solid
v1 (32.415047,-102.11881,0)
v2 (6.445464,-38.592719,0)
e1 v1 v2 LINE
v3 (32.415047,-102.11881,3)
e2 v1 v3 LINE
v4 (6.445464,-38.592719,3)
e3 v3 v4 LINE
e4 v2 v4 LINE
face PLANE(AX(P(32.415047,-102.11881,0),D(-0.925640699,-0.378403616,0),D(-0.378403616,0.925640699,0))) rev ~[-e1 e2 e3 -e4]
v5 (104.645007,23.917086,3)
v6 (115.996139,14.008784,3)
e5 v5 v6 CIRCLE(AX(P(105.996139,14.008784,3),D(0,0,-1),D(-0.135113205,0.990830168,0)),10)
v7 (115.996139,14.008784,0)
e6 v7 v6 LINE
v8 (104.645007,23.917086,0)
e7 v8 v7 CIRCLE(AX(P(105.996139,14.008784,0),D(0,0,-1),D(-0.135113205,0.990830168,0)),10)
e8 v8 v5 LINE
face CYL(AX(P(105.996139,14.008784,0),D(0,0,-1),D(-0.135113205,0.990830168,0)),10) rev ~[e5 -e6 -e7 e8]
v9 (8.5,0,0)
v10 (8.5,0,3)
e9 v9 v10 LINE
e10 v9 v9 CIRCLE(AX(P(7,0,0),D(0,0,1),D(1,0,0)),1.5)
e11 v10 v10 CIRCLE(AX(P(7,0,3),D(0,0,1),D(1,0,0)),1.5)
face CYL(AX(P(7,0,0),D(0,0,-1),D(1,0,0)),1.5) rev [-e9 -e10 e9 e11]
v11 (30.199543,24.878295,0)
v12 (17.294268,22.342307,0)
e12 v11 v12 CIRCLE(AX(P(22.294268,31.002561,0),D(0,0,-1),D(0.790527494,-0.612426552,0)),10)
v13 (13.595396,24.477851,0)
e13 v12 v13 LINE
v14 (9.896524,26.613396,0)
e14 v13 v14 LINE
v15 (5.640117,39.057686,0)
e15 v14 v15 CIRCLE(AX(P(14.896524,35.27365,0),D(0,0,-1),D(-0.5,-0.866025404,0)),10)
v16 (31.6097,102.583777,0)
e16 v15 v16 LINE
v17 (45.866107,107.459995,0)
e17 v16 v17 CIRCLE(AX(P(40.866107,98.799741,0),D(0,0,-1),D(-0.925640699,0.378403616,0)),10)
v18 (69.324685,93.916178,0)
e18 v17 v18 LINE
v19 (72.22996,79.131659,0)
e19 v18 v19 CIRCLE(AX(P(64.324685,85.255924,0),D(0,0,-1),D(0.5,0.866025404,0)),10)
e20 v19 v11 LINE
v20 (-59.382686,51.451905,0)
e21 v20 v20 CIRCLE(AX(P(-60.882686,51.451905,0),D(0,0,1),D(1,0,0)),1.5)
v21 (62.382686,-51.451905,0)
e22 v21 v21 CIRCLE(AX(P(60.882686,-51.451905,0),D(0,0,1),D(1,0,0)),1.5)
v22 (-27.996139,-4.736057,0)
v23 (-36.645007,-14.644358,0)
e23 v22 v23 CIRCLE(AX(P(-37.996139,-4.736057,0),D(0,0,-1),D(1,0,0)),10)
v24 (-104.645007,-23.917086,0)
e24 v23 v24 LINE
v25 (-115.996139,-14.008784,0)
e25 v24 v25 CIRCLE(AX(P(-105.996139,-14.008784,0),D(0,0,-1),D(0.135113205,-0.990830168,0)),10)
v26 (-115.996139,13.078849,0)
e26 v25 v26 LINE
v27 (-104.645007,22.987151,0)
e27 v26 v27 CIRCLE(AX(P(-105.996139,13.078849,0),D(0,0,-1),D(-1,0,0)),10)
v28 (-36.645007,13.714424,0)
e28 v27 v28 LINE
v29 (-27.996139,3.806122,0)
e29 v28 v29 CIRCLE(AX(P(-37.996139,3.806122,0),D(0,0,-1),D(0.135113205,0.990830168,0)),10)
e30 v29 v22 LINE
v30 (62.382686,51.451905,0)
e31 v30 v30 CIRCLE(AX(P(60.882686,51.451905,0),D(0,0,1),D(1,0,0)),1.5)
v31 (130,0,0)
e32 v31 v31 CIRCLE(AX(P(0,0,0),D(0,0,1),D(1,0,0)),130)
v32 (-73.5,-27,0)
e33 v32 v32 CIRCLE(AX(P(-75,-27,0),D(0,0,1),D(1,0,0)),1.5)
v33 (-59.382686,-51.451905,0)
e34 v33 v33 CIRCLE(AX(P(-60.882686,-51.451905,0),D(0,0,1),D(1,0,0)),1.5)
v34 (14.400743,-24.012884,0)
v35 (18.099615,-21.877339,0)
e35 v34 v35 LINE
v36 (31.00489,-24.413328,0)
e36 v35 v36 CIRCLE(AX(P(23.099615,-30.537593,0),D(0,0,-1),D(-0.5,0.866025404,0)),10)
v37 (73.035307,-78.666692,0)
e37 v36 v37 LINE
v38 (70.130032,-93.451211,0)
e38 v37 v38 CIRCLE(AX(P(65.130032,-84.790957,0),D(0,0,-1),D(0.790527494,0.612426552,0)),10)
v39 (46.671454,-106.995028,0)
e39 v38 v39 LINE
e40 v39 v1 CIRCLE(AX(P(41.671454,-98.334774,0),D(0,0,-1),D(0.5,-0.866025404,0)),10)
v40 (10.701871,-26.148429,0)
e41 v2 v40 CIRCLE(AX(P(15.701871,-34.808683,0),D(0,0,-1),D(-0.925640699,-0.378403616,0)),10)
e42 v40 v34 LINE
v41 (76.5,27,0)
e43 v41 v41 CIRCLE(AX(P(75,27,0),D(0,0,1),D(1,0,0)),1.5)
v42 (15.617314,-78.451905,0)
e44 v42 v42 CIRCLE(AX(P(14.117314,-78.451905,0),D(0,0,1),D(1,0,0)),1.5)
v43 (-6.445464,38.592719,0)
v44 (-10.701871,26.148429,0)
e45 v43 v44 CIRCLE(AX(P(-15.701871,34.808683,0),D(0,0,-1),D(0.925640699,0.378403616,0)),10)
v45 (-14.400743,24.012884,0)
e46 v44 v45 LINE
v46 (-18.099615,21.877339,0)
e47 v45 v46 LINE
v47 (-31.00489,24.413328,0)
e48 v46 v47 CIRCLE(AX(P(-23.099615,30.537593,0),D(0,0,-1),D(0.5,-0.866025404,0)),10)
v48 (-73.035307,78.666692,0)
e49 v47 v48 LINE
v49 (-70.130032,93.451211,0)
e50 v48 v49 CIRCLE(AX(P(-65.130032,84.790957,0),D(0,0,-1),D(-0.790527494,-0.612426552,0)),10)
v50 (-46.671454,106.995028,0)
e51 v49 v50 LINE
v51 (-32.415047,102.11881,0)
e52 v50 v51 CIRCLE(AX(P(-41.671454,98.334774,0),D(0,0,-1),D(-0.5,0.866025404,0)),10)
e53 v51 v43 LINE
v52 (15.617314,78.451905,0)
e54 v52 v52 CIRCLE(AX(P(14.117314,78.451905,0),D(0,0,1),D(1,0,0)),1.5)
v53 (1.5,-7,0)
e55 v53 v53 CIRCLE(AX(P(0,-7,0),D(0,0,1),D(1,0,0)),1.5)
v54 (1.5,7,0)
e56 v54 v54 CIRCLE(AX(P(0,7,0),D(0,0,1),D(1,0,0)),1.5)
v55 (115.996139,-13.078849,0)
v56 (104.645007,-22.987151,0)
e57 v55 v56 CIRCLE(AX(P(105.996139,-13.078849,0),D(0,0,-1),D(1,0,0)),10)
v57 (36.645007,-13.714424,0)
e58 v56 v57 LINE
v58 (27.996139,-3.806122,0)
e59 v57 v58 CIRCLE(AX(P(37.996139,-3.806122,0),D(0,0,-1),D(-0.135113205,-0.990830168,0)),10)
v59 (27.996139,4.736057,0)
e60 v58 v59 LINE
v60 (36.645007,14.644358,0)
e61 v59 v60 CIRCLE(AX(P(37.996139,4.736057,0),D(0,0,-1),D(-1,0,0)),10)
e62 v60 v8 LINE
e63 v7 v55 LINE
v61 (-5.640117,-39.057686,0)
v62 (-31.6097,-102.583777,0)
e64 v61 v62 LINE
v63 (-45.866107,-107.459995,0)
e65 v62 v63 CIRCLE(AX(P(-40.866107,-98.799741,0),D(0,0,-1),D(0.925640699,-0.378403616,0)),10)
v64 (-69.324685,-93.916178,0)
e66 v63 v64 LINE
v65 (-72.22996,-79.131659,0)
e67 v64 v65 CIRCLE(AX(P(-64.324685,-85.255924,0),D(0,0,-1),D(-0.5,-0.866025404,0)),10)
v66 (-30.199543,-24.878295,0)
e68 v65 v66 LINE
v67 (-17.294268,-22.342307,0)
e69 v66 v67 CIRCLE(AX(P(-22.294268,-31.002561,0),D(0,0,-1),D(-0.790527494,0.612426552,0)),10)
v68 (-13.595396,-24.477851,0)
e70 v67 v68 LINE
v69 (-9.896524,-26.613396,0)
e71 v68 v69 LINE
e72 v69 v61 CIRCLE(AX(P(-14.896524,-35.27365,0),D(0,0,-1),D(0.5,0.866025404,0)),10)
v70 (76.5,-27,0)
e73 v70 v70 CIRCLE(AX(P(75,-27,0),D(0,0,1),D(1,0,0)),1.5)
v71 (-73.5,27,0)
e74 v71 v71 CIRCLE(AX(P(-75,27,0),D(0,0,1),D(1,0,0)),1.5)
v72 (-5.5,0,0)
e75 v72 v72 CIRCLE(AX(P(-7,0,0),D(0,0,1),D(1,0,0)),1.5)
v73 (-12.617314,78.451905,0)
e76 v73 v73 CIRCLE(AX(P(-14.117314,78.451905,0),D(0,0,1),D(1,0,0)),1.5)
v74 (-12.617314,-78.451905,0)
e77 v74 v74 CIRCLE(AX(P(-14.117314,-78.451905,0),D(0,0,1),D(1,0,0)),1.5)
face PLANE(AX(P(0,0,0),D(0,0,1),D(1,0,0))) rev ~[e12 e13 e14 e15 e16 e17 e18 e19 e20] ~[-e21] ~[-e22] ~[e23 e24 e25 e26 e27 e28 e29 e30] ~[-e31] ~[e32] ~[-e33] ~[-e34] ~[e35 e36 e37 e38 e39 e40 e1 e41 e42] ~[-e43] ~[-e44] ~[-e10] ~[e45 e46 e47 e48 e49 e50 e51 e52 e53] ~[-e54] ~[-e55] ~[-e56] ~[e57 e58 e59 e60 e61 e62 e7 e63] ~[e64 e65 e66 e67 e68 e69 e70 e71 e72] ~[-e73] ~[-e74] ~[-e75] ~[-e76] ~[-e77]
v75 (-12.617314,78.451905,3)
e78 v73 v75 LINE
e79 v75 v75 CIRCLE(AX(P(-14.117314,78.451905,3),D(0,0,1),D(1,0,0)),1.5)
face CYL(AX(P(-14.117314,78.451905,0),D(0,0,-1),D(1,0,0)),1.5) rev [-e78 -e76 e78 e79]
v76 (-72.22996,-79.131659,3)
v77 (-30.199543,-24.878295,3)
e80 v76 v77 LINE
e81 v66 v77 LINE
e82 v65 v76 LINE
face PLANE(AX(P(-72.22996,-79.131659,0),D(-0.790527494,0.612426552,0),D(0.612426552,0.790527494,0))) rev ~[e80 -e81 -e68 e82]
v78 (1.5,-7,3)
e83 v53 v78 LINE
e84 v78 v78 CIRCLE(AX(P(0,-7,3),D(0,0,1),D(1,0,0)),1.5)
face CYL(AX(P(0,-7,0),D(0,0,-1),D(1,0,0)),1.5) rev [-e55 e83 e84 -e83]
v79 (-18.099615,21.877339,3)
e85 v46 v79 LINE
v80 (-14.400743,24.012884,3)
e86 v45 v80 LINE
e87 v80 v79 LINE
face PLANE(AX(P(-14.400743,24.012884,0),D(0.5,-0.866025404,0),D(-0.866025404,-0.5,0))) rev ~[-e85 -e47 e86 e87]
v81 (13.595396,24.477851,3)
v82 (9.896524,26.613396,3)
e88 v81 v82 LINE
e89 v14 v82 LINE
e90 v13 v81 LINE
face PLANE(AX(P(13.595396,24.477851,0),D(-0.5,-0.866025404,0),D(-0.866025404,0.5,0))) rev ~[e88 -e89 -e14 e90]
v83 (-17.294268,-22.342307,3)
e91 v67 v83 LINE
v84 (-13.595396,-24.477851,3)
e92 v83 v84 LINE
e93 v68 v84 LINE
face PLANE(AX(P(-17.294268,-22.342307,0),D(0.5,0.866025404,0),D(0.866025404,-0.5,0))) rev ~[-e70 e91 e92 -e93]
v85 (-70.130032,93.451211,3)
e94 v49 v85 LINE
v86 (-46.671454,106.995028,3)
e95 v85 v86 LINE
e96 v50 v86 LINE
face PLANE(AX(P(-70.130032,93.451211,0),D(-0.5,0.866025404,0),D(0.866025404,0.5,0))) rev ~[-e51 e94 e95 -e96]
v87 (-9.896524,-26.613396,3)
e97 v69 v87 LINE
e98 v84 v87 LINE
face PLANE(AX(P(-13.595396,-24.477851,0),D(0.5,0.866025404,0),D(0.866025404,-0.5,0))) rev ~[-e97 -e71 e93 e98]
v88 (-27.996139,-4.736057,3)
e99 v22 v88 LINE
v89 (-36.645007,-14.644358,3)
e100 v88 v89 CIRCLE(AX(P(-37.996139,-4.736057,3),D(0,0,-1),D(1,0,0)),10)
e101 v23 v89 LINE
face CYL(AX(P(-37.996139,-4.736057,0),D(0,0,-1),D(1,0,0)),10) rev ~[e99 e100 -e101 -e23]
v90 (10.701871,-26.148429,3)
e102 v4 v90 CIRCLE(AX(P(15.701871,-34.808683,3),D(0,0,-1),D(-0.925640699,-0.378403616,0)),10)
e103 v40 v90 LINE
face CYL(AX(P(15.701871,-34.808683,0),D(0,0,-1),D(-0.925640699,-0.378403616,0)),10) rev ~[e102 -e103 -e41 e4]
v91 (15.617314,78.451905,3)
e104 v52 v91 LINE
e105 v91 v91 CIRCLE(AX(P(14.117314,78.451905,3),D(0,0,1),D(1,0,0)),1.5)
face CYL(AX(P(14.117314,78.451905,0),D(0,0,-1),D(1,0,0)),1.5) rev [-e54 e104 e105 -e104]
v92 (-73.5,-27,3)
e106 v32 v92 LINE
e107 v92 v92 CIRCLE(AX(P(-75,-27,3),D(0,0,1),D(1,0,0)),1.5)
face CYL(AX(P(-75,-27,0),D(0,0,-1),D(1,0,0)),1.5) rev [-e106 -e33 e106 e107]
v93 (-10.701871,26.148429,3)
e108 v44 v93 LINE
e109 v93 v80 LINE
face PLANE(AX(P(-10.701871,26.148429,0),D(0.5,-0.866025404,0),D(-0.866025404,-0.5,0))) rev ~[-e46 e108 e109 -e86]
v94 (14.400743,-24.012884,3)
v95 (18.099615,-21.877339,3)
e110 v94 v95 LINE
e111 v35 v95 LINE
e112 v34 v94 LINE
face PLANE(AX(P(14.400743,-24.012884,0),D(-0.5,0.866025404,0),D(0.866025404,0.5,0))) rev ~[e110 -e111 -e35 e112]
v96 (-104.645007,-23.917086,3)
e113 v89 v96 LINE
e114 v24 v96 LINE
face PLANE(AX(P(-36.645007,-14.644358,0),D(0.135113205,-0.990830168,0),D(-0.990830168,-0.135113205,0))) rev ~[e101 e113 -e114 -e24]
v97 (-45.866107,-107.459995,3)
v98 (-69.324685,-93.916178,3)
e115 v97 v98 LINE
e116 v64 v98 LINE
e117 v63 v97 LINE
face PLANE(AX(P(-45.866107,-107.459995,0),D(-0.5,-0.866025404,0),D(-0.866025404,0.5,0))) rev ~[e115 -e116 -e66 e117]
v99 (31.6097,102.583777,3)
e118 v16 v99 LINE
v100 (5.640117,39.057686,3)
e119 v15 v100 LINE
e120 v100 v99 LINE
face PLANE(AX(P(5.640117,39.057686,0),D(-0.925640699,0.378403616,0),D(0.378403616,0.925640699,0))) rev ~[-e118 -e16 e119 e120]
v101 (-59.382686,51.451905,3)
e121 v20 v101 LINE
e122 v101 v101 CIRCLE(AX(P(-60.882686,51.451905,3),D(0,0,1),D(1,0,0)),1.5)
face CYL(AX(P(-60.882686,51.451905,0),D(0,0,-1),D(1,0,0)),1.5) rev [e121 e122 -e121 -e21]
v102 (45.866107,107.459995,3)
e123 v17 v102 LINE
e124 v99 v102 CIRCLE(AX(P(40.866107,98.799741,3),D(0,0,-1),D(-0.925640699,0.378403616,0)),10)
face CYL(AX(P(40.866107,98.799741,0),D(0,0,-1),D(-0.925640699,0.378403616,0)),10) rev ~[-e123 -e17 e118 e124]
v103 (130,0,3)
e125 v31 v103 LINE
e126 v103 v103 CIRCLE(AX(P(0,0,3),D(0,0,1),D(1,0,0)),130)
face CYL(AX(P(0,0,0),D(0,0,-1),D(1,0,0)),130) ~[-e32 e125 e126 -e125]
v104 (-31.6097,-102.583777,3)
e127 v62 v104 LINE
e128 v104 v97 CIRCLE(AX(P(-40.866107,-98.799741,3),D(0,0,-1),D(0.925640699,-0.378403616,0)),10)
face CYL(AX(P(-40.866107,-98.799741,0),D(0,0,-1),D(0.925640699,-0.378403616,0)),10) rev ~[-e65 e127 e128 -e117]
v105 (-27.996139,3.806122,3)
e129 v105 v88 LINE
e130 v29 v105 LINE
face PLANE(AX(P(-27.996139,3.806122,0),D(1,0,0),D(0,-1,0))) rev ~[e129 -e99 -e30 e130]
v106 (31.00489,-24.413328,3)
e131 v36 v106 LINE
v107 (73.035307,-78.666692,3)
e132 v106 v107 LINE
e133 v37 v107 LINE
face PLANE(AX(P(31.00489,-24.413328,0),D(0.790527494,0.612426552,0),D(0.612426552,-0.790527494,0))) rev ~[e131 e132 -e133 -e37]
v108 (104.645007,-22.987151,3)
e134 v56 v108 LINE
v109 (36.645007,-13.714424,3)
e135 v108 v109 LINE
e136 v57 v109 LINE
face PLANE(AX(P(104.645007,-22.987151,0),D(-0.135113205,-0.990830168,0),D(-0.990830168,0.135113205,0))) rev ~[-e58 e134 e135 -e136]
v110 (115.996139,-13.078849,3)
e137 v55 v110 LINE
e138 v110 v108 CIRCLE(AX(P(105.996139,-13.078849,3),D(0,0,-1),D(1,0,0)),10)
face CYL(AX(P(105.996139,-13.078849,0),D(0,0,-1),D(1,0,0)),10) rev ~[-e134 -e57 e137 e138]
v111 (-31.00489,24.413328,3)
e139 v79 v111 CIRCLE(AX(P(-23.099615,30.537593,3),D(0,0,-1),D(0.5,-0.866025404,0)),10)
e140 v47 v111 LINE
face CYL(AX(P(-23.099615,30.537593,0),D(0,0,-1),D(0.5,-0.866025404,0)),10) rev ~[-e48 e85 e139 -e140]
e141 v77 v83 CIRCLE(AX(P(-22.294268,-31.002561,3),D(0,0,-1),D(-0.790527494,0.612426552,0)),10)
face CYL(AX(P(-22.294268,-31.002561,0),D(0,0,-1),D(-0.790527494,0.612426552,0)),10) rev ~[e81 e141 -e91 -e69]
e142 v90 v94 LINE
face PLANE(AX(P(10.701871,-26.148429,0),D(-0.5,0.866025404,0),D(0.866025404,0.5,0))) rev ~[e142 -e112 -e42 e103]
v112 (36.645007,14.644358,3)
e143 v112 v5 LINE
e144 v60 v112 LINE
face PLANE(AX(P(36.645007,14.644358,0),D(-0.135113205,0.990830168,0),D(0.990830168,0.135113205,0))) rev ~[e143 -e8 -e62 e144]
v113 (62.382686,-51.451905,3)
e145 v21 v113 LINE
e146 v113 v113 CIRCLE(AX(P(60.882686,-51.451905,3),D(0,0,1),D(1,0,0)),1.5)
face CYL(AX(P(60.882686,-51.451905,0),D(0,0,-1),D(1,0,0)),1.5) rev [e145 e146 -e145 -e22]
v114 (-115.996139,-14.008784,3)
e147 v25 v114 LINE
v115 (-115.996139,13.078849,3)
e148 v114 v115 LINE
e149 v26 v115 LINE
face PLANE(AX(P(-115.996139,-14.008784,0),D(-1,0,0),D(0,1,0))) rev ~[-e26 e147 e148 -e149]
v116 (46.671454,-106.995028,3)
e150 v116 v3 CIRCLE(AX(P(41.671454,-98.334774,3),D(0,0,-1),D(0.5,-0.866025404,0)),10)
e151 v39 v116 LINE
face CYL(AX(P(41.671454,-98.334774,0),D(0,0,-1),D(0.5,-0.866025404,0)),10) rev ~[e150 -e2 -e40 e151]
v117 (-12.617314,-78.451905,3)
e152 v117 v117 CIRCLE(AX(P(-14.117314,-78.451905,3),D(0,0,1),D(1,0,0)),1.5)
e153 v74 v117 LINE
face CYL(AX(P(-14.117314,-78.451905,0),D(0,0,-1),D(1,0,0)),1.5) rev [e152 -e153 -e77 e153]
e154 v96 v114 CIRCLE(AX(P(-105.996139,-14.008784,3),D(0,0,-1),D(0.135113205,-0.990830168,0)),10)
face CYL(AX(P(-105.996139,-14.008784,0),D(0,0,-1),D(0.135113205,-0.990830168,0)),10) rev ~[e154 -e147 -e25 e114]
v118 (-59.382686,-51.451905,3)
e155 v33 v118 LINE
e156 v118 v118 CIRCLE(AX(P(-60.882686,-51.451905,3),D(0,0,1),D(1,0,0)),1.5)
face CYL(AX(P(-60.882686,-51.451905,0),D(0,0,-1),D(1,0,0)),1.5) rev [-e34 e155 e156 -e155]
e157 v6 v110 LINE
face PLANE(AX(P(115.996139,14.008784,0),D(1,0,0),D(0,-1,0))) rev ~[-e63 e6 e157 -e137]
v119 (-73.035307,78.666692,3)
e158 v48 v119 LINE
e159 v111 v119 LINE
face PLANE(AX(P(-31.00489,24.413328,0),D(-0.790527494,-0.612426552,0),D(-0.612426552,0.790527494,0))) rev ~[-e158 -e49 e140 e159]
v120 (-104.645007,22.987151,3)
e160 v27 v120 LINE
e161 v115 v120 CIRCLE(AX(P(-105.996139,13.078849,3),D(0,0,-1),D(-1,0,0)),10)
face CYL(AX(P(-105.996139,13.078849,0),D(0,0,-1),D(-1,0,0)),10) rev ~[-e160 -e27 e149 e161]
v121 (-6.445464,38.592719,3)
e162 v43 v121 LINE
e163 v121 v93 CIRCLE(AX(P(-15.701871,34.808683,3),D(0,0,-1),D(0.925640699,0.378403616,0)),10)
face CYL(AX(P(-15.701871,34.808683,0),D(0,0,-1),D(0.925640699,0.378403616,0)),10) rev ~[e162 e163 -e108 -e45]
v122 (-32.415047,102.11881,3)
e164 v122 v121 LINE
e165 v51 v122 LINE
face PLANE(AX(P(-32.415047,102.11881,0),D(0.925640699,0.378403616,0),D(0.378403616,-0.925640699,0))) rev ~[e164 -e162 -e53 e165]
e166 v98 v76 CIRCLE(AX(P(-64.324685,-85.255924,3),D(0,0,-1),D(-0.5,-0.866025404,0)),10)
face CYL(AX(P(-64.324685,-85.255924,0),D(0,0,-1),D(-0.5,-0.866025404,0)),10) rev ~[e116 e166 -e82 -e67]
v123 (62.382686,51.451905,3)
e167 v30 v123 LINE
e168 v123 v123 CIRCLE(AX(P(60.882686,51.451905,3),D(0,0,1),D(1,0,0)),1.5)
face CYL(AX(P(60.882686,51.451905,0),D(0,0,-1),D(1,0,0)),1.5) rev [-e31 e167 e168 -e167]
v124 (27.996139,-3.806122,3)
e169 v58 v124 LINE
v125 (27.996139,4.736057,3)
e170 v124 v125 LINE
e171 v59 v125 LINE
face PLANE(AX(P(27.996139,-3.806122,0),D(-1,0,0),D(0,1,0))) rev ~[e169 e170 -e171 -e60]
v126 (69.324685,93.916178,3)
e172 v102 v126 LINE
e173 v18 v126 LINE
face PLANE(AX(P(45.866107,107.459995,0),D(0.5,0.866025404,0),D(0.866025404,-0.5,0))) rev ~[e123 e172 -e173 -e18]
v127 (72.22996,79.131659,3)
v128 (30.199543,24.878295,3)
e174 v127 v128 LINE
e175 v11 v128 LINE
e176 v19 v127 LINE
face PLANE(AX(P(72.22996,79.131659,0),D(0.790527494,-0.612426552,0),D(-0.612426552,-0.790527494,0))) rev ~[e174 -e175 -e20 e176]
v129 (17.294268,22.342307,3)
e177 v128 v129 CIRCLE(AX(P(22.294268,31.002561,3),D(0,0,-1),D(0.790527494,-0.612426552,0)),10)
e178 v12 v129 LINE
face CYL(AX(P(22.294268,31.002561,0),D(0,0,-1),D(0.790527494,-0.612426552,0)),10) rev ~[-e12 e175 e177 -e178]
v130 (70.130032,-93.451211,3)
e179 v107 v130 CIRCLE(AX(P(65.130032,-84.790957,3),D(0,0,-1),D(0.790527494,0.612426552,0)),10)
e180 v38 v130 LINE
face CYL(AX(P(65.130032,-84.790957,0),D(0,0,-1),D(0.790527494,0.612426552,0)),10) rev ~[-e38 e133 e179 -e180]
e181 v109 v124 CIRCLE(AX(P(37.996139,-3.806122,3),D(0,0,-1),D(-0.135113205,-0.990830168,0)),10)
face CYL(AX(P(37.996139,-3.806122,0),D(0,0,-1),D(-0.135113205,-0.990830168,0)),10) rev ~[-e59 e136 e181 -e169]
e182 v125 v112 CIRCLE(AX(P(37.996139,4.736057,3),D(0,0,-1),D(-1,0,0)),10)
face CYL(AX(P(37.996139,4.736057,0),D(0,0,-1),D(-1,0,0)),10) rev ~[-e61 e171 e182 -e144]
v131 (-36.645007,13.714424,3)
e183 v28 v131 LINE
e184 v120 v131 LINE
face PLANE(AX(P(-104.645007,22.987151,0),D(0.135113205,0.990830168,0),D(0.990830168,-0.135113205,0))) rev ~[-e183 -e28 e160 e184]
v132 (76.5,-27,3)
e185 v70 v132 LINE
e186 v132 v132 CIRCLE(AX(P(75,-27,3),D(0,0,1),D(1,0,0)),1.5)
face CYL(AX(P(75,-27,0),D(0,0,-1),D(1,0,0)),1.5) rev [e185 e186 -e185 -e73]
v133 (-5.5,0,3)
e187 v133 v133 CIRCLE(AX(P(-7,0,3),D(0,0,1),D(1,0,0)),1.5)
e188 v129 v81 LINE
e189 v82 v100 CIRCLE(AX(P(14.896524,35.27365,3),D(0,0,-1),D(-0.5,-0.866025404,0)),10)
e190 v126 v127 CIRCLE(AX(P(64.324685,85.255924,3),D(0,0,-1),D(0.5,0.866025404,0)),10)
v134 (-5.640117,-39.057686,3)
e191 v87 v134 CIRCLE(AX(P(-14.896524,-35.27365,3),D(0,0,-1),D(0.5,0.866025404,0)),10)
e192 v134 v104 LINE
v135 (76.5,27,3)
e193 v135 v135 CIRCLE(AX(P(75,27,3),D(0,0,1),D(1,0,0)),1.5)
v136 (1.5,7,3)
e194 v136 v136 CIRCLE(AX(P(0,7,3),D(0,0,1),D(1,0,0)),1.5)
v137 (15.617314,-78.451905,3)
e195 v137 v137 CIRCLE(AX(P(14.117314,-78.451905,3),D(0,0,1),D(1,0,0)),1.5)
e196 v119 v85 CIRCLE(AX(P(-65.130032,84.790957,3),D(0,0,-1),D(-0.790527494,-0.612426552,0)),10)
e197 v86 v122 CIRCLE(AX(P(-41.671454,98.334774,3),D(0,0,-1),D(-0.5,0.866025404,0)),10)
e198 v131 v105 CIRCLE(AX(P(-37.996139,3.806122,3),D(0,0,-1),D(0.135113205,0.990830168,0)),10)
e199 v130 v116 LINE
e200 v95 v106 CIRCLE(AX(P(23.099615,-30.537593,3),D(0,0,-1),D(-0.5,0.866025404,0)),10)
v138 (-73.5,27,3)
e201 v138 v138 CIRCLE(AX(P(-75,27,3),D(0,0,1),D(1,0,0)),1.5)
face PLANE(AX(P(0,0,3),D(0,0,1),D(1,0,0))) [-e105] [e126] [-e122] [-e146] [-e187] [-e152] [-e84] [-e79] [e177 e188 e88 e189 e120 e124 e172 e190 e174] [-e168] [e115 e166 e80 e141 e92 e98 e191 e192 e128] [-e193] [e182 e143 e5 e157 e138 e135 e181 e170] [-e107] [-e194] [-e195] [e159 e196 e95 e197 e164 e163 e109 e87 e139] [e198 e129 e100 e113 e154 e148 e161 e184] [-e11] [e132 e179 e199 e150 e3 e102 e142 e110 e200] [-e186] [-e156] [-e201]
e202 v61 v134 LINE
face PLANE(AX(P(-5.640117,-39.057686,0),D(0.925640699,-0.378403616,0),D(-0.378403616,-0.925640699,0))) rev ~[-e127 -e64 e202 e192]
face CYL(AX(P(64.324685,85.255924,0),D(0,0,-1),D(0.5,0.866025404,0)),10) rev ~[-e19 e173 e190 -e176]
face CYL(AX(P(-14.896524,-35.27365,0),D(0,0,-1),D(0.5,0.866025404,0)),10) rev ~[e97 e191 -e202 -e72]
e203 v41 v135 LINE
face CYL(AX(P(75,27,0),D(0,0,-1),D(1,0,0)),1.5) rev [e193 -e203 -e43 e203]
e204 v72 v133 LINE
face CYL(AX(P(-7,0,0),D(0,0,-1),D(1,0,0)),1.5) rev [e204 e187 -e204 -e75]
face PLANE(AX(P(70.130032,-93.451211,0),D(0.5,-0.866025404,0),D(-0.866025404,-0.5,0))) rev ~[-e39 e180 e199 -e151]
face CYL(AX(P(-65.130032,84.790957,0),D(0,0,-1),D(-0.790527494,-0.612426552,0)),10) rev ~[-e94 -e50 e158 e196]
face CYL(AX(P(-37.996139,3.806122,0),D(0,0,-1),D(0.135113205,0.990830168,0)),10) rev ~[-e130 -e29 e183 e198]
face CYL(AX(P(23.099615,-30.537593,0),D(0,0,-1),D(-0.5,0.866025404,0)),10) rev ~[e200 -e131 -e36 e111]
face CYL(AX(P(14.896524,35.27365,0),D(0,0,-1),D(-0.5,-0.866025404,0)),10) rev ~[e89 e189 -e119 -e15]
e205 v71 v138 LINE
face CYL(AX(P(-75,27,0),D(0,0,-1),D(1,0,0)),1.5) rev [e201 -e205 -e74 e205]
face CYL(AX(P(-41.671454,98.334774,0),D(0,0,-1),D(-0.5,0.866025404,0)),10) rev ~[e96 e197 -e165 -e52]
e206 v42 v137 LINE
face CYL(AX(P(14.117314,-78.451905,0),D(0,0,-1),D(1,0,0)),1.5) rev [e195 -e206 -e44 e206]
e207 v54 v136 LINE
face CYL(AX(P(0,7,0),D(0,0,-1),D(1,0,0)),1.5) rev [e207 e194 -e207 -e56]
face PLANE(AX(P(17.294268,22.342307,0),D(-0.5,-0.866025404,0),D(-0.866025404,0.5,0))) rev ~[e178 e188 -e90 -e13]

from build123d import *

# Parameters (mm, degrees)
SKETCH_1_R      = 130
SKETCH_1_R_2    = 1.5
EXTRUDE_2_DEPTH = 3


with BuildPart() as part:
    # 草图1 → 凸台-拉伸2 (new body)
    with BuildSketch(Plane.XY):
        Circle(SKETCH_1_R)
        with Locations((-7, 0)):
            Circle(SKETCH_1_R_2, mode=Mode.SUBTRACT)
        with Locations((0, 7)):
            Circle(SKETCH_1_R_2, mode=Mode.SUBTRACT)
        with Locations((7, 0)):
            Circle(SKETCH_1_R_2, mode=Mode.SUBTRACT)
        with Locations((0, -7)):
            Circle(SKETCH_1_R_2, mode=Mode.SUBTRACT)
        with Locations((-75, -27)):
            Circle(SKETCH_1_R_2, mode=Mode.SUBTRACT)
        with Locations((-75, 27)):
            Circle(SKETCH_1_R_2, mode=Mode.SUBTRACT)
        with Locations((-60.882685902, 51.451905284)):
            Circle(SKETCH_1_R_2, mode=Mode.SUBTRACT)
        with Locations((-14.117314098, 78.451905284)):
            Circle(SKETCH_1_R_2, mode=Mode.SUBTRACT)
        with Locations((14.117314098, 78.451905284)):
            Circle(SKETCH_1_R_2, mode=Mode.SUBTRACT)
        with Locations((60.882685902, 51.451905284)):
            Circle(SKETCH_1_R_2, mode=Mode.SUBTRACT)
        with Locations((75, 27)):
            Circle(SKETCH_1_R_2, mode=Mode.SUBTRACT)
        with Locations((75, -27)):
            Circle(SKETCH_1_R_2, mode=Mode.SUBTRACT)
        with Locations((60.882685902, -51.451905284)):
            Circle(SKETCH_1_R_2, mode=Mode.SUBTRACT)
        with Locations((14.117314098, -78.451905284)):
            Circle(SKETCH_1_R_2, mode=Mode.SUBTRACT)
        with Locations((-14.117314098, -78.451905284)):
            Circle(SKETCH_1_R_2, mode=Mode.SUBTRACT)
        with Locations((-60.882685902, -51.451905284)):
            Circle(SKETCH_1_R_2, mode=Mode.SUBTRACT)
        with BuildLine():
            Line((-14.400742953, 24.012884092), (-18.099614878, 21.87733939))
            ThreePointArc((-18.099614878, 21.87733939), (-25.027817426, 20.725252477), (-31.004889818, 24.413327911))
            Line((-31.004889818, 24.413327911), (-73.035307199, 78.666691732))
            ThreePointArc((-73.035307199, 78.666691732), (-74.94237321, 86.719159796), (-70.130032259, 93.451211287))
            Line((-70.130032259, 93.451211287), (-46.671453646, 106.995027963))
            ThreePointArc((-46.671453646, 106.995027963), (-38.435155561, 107.796611733), (-32.415046659, 102.118810089))
            Line((-32.415046659, 102.118810089), (-6.44546404, 38.592718995))
            ThreePointArc((-6.44546404, 38.592718995), (-6.240033219, 31.572384746), (-10.701871027, 26.148428794))
            Line((-10.701871027, 26.148428794), (-14.400742953, 24.012884092))
        make_face(mode=Mode.SUBTRACT)
        with BuildLine():
            Line((-27.996139118, -0.464967184), (-27.996139118, -4.736056588))
            ThreePointArc((-27.996139118, -4.736056588), (-30.462503858, -11.312099453), (-36.645007071, -14.644358269))
            Line((-36.645007071, -14.644358269), (-104.645007071, -23.917085542))
            ThreePointArc((-104.645007071, -23.917085542), (-112.572181983, -21.542419122), (-115.996139118, -14.008783861))
            Line((-115.996139118, -14.008783861), (-115.996139118, 13.078849492))
            ThreePointArc((-115.996139118, 13.078849492), (-112.572181983, 20.612484753), (-104.645007071, 22.987151173))
            Line((-104.645007071, 22.987151173), (-36.645007071, 13.7144239))
            ThreePointArc((-36.645007071, 13.7144239), (-30.462503858, 10.382165085), (-27.996139118, 3.80612222))
            Line((-27.996139118, 3.80612222), (-27.996139118, -0.464967184))
        make_face(mode=Mode.SUBTRACT)
        with BuildLine():
            Line((13.595396165, 24.477851276), (9.89652424, 26.613395978))
            ThreePointArc((9.89652424, 26.613395978), (5.434686432, 32.03735193), (5.640117252, 39.05768618))
            Line((5.640117252, 39.05768618), (31.609699872, 102.583777273))
            ThreePointArc((31.609699872, 102.583777273), (37.629808773, 108.261578918), (45.866106859, 107.459995148))
            Line((45.866106859, 107.459995148), (69.324685472, 93.916178471))
            ThreePointArc((69.324685472, 93.916178471), (74.137026423, 87.18412698), (72.229960412, 79.131658916))
            Line((72.229960412, 79.131658916), (30.199543031, 24.878295095))
            ThreePointArc((30.199543031, 24.878295095), (24.222470638, 21.190219661), (17.294268091, 22.342306574))
            Line((17.294268091, 22.342306574), (13.595396165, 24.477851276))
        make_face(mode=Mode.SUBTRACT)
        with BuildLine():
            Line((27.996139118, 0.464967184), (27.996139118, 4.736056588))
            ThreePointArc((27.996139118, 4.736056588), (30.462503858, 11.312099453), (36.645007071, 14.644358269))
            Line((36.645007071, 14.644358269), (104.645007071, 23.917085542))
            ThreePointArc((104.645007071, 23.917085542), (112.572181983, 21.542419122), (115.996139118, 14.008783861))
            Line((115.996139118, 14.008783861), (115.996139118, -13.078849492))
            ThreePointArc((115.996139118, -13.078849492), (112.572181983, -20.612484753), (104.645007071, -22.987151173))
            Line((104.645007071, -22.987151173), (36.645007071, -13.7144239))
            ThreePointArc((36.645007071, -13.7144239), (30.462503858, -10.382165085), (27.996139118, -3.80612222))
            Line((27.996139118, -3.80612222), (27.996139118, 0.464967184))
        make_face(mode=Mode.SUBTRACT)
        with BuildLine():
            Line((14.400742953, -24.012884092), (18.099614878, -21.87733939))
            ThreePointArc((18.099614878, -21.87733939), (25.027817426, -20.725252477), (31.004889818, -24.413327911))
            Line((31.004889818, -24.413327911), (73.035307199, -78.666691732))
            ThreePointArc((73.035307199, -78.666691732), (74.94237321, -86.719159796), (70.130032259, -93.451211287))
            Line((70.130032259, -93.451211287), (46.671453646, -106.995027963))
            ThreePointArc((46.671453646, -106.995027963), (38.435155561, -107.796611733), (32.415046659, -102.118810089))
            Line((32.415046659, -102.118810089), (6.44546404, -38.592718995))
            ThreePointArc((6.44546404, -38.592718995), (6.240033219, -31.572384746), (10.701871027, -26.148428794))
            Line((10.701871027, -26.148428794), (14.400742953, -24.012884092))
        make_face(mode=Mode.SUBTRACT)
        with BuildLine():
            Line((-13.595396165, -24.477851276), (-9.89652424, -26.613395978))
            ThreePointArc((-9.89652424, -26.613395978), (-5.434686432, -32.03735193), (-5.640117252, -39.05768618))
            Line((-5.640117252, -39.05768618), (-31.609699872, -102.583777273))
            ThreePointArc((-31.609699872, -102.583777273), (-37.629808773, -108.261578918), (-45.866106859, -107.459995148))
            Line((-45.866106859, -107.459995148), (-69.324685472, -93.916178471))
            ThreePointArc((-69.324685472, -93.916178471), (-74.137026423, -87.18412698), (-72.229960412, -79.131658916))
            Line((-72.229960412, -79.131658916), (-30.199543031, -24.878295095))
            ThreePointArc((-30.199543031, -24.878295095), (-24.222470638, -21.190219661), (-17.294268091, -22.342306574))
            Line((-17.294268091, -22.342306574), (-13.595396165, -24.477851276))
        make_face(mode=Mode.SUBTRACT)
    extrude(amount=EXTRUDE_2_DEPTH)


solid = part.part
